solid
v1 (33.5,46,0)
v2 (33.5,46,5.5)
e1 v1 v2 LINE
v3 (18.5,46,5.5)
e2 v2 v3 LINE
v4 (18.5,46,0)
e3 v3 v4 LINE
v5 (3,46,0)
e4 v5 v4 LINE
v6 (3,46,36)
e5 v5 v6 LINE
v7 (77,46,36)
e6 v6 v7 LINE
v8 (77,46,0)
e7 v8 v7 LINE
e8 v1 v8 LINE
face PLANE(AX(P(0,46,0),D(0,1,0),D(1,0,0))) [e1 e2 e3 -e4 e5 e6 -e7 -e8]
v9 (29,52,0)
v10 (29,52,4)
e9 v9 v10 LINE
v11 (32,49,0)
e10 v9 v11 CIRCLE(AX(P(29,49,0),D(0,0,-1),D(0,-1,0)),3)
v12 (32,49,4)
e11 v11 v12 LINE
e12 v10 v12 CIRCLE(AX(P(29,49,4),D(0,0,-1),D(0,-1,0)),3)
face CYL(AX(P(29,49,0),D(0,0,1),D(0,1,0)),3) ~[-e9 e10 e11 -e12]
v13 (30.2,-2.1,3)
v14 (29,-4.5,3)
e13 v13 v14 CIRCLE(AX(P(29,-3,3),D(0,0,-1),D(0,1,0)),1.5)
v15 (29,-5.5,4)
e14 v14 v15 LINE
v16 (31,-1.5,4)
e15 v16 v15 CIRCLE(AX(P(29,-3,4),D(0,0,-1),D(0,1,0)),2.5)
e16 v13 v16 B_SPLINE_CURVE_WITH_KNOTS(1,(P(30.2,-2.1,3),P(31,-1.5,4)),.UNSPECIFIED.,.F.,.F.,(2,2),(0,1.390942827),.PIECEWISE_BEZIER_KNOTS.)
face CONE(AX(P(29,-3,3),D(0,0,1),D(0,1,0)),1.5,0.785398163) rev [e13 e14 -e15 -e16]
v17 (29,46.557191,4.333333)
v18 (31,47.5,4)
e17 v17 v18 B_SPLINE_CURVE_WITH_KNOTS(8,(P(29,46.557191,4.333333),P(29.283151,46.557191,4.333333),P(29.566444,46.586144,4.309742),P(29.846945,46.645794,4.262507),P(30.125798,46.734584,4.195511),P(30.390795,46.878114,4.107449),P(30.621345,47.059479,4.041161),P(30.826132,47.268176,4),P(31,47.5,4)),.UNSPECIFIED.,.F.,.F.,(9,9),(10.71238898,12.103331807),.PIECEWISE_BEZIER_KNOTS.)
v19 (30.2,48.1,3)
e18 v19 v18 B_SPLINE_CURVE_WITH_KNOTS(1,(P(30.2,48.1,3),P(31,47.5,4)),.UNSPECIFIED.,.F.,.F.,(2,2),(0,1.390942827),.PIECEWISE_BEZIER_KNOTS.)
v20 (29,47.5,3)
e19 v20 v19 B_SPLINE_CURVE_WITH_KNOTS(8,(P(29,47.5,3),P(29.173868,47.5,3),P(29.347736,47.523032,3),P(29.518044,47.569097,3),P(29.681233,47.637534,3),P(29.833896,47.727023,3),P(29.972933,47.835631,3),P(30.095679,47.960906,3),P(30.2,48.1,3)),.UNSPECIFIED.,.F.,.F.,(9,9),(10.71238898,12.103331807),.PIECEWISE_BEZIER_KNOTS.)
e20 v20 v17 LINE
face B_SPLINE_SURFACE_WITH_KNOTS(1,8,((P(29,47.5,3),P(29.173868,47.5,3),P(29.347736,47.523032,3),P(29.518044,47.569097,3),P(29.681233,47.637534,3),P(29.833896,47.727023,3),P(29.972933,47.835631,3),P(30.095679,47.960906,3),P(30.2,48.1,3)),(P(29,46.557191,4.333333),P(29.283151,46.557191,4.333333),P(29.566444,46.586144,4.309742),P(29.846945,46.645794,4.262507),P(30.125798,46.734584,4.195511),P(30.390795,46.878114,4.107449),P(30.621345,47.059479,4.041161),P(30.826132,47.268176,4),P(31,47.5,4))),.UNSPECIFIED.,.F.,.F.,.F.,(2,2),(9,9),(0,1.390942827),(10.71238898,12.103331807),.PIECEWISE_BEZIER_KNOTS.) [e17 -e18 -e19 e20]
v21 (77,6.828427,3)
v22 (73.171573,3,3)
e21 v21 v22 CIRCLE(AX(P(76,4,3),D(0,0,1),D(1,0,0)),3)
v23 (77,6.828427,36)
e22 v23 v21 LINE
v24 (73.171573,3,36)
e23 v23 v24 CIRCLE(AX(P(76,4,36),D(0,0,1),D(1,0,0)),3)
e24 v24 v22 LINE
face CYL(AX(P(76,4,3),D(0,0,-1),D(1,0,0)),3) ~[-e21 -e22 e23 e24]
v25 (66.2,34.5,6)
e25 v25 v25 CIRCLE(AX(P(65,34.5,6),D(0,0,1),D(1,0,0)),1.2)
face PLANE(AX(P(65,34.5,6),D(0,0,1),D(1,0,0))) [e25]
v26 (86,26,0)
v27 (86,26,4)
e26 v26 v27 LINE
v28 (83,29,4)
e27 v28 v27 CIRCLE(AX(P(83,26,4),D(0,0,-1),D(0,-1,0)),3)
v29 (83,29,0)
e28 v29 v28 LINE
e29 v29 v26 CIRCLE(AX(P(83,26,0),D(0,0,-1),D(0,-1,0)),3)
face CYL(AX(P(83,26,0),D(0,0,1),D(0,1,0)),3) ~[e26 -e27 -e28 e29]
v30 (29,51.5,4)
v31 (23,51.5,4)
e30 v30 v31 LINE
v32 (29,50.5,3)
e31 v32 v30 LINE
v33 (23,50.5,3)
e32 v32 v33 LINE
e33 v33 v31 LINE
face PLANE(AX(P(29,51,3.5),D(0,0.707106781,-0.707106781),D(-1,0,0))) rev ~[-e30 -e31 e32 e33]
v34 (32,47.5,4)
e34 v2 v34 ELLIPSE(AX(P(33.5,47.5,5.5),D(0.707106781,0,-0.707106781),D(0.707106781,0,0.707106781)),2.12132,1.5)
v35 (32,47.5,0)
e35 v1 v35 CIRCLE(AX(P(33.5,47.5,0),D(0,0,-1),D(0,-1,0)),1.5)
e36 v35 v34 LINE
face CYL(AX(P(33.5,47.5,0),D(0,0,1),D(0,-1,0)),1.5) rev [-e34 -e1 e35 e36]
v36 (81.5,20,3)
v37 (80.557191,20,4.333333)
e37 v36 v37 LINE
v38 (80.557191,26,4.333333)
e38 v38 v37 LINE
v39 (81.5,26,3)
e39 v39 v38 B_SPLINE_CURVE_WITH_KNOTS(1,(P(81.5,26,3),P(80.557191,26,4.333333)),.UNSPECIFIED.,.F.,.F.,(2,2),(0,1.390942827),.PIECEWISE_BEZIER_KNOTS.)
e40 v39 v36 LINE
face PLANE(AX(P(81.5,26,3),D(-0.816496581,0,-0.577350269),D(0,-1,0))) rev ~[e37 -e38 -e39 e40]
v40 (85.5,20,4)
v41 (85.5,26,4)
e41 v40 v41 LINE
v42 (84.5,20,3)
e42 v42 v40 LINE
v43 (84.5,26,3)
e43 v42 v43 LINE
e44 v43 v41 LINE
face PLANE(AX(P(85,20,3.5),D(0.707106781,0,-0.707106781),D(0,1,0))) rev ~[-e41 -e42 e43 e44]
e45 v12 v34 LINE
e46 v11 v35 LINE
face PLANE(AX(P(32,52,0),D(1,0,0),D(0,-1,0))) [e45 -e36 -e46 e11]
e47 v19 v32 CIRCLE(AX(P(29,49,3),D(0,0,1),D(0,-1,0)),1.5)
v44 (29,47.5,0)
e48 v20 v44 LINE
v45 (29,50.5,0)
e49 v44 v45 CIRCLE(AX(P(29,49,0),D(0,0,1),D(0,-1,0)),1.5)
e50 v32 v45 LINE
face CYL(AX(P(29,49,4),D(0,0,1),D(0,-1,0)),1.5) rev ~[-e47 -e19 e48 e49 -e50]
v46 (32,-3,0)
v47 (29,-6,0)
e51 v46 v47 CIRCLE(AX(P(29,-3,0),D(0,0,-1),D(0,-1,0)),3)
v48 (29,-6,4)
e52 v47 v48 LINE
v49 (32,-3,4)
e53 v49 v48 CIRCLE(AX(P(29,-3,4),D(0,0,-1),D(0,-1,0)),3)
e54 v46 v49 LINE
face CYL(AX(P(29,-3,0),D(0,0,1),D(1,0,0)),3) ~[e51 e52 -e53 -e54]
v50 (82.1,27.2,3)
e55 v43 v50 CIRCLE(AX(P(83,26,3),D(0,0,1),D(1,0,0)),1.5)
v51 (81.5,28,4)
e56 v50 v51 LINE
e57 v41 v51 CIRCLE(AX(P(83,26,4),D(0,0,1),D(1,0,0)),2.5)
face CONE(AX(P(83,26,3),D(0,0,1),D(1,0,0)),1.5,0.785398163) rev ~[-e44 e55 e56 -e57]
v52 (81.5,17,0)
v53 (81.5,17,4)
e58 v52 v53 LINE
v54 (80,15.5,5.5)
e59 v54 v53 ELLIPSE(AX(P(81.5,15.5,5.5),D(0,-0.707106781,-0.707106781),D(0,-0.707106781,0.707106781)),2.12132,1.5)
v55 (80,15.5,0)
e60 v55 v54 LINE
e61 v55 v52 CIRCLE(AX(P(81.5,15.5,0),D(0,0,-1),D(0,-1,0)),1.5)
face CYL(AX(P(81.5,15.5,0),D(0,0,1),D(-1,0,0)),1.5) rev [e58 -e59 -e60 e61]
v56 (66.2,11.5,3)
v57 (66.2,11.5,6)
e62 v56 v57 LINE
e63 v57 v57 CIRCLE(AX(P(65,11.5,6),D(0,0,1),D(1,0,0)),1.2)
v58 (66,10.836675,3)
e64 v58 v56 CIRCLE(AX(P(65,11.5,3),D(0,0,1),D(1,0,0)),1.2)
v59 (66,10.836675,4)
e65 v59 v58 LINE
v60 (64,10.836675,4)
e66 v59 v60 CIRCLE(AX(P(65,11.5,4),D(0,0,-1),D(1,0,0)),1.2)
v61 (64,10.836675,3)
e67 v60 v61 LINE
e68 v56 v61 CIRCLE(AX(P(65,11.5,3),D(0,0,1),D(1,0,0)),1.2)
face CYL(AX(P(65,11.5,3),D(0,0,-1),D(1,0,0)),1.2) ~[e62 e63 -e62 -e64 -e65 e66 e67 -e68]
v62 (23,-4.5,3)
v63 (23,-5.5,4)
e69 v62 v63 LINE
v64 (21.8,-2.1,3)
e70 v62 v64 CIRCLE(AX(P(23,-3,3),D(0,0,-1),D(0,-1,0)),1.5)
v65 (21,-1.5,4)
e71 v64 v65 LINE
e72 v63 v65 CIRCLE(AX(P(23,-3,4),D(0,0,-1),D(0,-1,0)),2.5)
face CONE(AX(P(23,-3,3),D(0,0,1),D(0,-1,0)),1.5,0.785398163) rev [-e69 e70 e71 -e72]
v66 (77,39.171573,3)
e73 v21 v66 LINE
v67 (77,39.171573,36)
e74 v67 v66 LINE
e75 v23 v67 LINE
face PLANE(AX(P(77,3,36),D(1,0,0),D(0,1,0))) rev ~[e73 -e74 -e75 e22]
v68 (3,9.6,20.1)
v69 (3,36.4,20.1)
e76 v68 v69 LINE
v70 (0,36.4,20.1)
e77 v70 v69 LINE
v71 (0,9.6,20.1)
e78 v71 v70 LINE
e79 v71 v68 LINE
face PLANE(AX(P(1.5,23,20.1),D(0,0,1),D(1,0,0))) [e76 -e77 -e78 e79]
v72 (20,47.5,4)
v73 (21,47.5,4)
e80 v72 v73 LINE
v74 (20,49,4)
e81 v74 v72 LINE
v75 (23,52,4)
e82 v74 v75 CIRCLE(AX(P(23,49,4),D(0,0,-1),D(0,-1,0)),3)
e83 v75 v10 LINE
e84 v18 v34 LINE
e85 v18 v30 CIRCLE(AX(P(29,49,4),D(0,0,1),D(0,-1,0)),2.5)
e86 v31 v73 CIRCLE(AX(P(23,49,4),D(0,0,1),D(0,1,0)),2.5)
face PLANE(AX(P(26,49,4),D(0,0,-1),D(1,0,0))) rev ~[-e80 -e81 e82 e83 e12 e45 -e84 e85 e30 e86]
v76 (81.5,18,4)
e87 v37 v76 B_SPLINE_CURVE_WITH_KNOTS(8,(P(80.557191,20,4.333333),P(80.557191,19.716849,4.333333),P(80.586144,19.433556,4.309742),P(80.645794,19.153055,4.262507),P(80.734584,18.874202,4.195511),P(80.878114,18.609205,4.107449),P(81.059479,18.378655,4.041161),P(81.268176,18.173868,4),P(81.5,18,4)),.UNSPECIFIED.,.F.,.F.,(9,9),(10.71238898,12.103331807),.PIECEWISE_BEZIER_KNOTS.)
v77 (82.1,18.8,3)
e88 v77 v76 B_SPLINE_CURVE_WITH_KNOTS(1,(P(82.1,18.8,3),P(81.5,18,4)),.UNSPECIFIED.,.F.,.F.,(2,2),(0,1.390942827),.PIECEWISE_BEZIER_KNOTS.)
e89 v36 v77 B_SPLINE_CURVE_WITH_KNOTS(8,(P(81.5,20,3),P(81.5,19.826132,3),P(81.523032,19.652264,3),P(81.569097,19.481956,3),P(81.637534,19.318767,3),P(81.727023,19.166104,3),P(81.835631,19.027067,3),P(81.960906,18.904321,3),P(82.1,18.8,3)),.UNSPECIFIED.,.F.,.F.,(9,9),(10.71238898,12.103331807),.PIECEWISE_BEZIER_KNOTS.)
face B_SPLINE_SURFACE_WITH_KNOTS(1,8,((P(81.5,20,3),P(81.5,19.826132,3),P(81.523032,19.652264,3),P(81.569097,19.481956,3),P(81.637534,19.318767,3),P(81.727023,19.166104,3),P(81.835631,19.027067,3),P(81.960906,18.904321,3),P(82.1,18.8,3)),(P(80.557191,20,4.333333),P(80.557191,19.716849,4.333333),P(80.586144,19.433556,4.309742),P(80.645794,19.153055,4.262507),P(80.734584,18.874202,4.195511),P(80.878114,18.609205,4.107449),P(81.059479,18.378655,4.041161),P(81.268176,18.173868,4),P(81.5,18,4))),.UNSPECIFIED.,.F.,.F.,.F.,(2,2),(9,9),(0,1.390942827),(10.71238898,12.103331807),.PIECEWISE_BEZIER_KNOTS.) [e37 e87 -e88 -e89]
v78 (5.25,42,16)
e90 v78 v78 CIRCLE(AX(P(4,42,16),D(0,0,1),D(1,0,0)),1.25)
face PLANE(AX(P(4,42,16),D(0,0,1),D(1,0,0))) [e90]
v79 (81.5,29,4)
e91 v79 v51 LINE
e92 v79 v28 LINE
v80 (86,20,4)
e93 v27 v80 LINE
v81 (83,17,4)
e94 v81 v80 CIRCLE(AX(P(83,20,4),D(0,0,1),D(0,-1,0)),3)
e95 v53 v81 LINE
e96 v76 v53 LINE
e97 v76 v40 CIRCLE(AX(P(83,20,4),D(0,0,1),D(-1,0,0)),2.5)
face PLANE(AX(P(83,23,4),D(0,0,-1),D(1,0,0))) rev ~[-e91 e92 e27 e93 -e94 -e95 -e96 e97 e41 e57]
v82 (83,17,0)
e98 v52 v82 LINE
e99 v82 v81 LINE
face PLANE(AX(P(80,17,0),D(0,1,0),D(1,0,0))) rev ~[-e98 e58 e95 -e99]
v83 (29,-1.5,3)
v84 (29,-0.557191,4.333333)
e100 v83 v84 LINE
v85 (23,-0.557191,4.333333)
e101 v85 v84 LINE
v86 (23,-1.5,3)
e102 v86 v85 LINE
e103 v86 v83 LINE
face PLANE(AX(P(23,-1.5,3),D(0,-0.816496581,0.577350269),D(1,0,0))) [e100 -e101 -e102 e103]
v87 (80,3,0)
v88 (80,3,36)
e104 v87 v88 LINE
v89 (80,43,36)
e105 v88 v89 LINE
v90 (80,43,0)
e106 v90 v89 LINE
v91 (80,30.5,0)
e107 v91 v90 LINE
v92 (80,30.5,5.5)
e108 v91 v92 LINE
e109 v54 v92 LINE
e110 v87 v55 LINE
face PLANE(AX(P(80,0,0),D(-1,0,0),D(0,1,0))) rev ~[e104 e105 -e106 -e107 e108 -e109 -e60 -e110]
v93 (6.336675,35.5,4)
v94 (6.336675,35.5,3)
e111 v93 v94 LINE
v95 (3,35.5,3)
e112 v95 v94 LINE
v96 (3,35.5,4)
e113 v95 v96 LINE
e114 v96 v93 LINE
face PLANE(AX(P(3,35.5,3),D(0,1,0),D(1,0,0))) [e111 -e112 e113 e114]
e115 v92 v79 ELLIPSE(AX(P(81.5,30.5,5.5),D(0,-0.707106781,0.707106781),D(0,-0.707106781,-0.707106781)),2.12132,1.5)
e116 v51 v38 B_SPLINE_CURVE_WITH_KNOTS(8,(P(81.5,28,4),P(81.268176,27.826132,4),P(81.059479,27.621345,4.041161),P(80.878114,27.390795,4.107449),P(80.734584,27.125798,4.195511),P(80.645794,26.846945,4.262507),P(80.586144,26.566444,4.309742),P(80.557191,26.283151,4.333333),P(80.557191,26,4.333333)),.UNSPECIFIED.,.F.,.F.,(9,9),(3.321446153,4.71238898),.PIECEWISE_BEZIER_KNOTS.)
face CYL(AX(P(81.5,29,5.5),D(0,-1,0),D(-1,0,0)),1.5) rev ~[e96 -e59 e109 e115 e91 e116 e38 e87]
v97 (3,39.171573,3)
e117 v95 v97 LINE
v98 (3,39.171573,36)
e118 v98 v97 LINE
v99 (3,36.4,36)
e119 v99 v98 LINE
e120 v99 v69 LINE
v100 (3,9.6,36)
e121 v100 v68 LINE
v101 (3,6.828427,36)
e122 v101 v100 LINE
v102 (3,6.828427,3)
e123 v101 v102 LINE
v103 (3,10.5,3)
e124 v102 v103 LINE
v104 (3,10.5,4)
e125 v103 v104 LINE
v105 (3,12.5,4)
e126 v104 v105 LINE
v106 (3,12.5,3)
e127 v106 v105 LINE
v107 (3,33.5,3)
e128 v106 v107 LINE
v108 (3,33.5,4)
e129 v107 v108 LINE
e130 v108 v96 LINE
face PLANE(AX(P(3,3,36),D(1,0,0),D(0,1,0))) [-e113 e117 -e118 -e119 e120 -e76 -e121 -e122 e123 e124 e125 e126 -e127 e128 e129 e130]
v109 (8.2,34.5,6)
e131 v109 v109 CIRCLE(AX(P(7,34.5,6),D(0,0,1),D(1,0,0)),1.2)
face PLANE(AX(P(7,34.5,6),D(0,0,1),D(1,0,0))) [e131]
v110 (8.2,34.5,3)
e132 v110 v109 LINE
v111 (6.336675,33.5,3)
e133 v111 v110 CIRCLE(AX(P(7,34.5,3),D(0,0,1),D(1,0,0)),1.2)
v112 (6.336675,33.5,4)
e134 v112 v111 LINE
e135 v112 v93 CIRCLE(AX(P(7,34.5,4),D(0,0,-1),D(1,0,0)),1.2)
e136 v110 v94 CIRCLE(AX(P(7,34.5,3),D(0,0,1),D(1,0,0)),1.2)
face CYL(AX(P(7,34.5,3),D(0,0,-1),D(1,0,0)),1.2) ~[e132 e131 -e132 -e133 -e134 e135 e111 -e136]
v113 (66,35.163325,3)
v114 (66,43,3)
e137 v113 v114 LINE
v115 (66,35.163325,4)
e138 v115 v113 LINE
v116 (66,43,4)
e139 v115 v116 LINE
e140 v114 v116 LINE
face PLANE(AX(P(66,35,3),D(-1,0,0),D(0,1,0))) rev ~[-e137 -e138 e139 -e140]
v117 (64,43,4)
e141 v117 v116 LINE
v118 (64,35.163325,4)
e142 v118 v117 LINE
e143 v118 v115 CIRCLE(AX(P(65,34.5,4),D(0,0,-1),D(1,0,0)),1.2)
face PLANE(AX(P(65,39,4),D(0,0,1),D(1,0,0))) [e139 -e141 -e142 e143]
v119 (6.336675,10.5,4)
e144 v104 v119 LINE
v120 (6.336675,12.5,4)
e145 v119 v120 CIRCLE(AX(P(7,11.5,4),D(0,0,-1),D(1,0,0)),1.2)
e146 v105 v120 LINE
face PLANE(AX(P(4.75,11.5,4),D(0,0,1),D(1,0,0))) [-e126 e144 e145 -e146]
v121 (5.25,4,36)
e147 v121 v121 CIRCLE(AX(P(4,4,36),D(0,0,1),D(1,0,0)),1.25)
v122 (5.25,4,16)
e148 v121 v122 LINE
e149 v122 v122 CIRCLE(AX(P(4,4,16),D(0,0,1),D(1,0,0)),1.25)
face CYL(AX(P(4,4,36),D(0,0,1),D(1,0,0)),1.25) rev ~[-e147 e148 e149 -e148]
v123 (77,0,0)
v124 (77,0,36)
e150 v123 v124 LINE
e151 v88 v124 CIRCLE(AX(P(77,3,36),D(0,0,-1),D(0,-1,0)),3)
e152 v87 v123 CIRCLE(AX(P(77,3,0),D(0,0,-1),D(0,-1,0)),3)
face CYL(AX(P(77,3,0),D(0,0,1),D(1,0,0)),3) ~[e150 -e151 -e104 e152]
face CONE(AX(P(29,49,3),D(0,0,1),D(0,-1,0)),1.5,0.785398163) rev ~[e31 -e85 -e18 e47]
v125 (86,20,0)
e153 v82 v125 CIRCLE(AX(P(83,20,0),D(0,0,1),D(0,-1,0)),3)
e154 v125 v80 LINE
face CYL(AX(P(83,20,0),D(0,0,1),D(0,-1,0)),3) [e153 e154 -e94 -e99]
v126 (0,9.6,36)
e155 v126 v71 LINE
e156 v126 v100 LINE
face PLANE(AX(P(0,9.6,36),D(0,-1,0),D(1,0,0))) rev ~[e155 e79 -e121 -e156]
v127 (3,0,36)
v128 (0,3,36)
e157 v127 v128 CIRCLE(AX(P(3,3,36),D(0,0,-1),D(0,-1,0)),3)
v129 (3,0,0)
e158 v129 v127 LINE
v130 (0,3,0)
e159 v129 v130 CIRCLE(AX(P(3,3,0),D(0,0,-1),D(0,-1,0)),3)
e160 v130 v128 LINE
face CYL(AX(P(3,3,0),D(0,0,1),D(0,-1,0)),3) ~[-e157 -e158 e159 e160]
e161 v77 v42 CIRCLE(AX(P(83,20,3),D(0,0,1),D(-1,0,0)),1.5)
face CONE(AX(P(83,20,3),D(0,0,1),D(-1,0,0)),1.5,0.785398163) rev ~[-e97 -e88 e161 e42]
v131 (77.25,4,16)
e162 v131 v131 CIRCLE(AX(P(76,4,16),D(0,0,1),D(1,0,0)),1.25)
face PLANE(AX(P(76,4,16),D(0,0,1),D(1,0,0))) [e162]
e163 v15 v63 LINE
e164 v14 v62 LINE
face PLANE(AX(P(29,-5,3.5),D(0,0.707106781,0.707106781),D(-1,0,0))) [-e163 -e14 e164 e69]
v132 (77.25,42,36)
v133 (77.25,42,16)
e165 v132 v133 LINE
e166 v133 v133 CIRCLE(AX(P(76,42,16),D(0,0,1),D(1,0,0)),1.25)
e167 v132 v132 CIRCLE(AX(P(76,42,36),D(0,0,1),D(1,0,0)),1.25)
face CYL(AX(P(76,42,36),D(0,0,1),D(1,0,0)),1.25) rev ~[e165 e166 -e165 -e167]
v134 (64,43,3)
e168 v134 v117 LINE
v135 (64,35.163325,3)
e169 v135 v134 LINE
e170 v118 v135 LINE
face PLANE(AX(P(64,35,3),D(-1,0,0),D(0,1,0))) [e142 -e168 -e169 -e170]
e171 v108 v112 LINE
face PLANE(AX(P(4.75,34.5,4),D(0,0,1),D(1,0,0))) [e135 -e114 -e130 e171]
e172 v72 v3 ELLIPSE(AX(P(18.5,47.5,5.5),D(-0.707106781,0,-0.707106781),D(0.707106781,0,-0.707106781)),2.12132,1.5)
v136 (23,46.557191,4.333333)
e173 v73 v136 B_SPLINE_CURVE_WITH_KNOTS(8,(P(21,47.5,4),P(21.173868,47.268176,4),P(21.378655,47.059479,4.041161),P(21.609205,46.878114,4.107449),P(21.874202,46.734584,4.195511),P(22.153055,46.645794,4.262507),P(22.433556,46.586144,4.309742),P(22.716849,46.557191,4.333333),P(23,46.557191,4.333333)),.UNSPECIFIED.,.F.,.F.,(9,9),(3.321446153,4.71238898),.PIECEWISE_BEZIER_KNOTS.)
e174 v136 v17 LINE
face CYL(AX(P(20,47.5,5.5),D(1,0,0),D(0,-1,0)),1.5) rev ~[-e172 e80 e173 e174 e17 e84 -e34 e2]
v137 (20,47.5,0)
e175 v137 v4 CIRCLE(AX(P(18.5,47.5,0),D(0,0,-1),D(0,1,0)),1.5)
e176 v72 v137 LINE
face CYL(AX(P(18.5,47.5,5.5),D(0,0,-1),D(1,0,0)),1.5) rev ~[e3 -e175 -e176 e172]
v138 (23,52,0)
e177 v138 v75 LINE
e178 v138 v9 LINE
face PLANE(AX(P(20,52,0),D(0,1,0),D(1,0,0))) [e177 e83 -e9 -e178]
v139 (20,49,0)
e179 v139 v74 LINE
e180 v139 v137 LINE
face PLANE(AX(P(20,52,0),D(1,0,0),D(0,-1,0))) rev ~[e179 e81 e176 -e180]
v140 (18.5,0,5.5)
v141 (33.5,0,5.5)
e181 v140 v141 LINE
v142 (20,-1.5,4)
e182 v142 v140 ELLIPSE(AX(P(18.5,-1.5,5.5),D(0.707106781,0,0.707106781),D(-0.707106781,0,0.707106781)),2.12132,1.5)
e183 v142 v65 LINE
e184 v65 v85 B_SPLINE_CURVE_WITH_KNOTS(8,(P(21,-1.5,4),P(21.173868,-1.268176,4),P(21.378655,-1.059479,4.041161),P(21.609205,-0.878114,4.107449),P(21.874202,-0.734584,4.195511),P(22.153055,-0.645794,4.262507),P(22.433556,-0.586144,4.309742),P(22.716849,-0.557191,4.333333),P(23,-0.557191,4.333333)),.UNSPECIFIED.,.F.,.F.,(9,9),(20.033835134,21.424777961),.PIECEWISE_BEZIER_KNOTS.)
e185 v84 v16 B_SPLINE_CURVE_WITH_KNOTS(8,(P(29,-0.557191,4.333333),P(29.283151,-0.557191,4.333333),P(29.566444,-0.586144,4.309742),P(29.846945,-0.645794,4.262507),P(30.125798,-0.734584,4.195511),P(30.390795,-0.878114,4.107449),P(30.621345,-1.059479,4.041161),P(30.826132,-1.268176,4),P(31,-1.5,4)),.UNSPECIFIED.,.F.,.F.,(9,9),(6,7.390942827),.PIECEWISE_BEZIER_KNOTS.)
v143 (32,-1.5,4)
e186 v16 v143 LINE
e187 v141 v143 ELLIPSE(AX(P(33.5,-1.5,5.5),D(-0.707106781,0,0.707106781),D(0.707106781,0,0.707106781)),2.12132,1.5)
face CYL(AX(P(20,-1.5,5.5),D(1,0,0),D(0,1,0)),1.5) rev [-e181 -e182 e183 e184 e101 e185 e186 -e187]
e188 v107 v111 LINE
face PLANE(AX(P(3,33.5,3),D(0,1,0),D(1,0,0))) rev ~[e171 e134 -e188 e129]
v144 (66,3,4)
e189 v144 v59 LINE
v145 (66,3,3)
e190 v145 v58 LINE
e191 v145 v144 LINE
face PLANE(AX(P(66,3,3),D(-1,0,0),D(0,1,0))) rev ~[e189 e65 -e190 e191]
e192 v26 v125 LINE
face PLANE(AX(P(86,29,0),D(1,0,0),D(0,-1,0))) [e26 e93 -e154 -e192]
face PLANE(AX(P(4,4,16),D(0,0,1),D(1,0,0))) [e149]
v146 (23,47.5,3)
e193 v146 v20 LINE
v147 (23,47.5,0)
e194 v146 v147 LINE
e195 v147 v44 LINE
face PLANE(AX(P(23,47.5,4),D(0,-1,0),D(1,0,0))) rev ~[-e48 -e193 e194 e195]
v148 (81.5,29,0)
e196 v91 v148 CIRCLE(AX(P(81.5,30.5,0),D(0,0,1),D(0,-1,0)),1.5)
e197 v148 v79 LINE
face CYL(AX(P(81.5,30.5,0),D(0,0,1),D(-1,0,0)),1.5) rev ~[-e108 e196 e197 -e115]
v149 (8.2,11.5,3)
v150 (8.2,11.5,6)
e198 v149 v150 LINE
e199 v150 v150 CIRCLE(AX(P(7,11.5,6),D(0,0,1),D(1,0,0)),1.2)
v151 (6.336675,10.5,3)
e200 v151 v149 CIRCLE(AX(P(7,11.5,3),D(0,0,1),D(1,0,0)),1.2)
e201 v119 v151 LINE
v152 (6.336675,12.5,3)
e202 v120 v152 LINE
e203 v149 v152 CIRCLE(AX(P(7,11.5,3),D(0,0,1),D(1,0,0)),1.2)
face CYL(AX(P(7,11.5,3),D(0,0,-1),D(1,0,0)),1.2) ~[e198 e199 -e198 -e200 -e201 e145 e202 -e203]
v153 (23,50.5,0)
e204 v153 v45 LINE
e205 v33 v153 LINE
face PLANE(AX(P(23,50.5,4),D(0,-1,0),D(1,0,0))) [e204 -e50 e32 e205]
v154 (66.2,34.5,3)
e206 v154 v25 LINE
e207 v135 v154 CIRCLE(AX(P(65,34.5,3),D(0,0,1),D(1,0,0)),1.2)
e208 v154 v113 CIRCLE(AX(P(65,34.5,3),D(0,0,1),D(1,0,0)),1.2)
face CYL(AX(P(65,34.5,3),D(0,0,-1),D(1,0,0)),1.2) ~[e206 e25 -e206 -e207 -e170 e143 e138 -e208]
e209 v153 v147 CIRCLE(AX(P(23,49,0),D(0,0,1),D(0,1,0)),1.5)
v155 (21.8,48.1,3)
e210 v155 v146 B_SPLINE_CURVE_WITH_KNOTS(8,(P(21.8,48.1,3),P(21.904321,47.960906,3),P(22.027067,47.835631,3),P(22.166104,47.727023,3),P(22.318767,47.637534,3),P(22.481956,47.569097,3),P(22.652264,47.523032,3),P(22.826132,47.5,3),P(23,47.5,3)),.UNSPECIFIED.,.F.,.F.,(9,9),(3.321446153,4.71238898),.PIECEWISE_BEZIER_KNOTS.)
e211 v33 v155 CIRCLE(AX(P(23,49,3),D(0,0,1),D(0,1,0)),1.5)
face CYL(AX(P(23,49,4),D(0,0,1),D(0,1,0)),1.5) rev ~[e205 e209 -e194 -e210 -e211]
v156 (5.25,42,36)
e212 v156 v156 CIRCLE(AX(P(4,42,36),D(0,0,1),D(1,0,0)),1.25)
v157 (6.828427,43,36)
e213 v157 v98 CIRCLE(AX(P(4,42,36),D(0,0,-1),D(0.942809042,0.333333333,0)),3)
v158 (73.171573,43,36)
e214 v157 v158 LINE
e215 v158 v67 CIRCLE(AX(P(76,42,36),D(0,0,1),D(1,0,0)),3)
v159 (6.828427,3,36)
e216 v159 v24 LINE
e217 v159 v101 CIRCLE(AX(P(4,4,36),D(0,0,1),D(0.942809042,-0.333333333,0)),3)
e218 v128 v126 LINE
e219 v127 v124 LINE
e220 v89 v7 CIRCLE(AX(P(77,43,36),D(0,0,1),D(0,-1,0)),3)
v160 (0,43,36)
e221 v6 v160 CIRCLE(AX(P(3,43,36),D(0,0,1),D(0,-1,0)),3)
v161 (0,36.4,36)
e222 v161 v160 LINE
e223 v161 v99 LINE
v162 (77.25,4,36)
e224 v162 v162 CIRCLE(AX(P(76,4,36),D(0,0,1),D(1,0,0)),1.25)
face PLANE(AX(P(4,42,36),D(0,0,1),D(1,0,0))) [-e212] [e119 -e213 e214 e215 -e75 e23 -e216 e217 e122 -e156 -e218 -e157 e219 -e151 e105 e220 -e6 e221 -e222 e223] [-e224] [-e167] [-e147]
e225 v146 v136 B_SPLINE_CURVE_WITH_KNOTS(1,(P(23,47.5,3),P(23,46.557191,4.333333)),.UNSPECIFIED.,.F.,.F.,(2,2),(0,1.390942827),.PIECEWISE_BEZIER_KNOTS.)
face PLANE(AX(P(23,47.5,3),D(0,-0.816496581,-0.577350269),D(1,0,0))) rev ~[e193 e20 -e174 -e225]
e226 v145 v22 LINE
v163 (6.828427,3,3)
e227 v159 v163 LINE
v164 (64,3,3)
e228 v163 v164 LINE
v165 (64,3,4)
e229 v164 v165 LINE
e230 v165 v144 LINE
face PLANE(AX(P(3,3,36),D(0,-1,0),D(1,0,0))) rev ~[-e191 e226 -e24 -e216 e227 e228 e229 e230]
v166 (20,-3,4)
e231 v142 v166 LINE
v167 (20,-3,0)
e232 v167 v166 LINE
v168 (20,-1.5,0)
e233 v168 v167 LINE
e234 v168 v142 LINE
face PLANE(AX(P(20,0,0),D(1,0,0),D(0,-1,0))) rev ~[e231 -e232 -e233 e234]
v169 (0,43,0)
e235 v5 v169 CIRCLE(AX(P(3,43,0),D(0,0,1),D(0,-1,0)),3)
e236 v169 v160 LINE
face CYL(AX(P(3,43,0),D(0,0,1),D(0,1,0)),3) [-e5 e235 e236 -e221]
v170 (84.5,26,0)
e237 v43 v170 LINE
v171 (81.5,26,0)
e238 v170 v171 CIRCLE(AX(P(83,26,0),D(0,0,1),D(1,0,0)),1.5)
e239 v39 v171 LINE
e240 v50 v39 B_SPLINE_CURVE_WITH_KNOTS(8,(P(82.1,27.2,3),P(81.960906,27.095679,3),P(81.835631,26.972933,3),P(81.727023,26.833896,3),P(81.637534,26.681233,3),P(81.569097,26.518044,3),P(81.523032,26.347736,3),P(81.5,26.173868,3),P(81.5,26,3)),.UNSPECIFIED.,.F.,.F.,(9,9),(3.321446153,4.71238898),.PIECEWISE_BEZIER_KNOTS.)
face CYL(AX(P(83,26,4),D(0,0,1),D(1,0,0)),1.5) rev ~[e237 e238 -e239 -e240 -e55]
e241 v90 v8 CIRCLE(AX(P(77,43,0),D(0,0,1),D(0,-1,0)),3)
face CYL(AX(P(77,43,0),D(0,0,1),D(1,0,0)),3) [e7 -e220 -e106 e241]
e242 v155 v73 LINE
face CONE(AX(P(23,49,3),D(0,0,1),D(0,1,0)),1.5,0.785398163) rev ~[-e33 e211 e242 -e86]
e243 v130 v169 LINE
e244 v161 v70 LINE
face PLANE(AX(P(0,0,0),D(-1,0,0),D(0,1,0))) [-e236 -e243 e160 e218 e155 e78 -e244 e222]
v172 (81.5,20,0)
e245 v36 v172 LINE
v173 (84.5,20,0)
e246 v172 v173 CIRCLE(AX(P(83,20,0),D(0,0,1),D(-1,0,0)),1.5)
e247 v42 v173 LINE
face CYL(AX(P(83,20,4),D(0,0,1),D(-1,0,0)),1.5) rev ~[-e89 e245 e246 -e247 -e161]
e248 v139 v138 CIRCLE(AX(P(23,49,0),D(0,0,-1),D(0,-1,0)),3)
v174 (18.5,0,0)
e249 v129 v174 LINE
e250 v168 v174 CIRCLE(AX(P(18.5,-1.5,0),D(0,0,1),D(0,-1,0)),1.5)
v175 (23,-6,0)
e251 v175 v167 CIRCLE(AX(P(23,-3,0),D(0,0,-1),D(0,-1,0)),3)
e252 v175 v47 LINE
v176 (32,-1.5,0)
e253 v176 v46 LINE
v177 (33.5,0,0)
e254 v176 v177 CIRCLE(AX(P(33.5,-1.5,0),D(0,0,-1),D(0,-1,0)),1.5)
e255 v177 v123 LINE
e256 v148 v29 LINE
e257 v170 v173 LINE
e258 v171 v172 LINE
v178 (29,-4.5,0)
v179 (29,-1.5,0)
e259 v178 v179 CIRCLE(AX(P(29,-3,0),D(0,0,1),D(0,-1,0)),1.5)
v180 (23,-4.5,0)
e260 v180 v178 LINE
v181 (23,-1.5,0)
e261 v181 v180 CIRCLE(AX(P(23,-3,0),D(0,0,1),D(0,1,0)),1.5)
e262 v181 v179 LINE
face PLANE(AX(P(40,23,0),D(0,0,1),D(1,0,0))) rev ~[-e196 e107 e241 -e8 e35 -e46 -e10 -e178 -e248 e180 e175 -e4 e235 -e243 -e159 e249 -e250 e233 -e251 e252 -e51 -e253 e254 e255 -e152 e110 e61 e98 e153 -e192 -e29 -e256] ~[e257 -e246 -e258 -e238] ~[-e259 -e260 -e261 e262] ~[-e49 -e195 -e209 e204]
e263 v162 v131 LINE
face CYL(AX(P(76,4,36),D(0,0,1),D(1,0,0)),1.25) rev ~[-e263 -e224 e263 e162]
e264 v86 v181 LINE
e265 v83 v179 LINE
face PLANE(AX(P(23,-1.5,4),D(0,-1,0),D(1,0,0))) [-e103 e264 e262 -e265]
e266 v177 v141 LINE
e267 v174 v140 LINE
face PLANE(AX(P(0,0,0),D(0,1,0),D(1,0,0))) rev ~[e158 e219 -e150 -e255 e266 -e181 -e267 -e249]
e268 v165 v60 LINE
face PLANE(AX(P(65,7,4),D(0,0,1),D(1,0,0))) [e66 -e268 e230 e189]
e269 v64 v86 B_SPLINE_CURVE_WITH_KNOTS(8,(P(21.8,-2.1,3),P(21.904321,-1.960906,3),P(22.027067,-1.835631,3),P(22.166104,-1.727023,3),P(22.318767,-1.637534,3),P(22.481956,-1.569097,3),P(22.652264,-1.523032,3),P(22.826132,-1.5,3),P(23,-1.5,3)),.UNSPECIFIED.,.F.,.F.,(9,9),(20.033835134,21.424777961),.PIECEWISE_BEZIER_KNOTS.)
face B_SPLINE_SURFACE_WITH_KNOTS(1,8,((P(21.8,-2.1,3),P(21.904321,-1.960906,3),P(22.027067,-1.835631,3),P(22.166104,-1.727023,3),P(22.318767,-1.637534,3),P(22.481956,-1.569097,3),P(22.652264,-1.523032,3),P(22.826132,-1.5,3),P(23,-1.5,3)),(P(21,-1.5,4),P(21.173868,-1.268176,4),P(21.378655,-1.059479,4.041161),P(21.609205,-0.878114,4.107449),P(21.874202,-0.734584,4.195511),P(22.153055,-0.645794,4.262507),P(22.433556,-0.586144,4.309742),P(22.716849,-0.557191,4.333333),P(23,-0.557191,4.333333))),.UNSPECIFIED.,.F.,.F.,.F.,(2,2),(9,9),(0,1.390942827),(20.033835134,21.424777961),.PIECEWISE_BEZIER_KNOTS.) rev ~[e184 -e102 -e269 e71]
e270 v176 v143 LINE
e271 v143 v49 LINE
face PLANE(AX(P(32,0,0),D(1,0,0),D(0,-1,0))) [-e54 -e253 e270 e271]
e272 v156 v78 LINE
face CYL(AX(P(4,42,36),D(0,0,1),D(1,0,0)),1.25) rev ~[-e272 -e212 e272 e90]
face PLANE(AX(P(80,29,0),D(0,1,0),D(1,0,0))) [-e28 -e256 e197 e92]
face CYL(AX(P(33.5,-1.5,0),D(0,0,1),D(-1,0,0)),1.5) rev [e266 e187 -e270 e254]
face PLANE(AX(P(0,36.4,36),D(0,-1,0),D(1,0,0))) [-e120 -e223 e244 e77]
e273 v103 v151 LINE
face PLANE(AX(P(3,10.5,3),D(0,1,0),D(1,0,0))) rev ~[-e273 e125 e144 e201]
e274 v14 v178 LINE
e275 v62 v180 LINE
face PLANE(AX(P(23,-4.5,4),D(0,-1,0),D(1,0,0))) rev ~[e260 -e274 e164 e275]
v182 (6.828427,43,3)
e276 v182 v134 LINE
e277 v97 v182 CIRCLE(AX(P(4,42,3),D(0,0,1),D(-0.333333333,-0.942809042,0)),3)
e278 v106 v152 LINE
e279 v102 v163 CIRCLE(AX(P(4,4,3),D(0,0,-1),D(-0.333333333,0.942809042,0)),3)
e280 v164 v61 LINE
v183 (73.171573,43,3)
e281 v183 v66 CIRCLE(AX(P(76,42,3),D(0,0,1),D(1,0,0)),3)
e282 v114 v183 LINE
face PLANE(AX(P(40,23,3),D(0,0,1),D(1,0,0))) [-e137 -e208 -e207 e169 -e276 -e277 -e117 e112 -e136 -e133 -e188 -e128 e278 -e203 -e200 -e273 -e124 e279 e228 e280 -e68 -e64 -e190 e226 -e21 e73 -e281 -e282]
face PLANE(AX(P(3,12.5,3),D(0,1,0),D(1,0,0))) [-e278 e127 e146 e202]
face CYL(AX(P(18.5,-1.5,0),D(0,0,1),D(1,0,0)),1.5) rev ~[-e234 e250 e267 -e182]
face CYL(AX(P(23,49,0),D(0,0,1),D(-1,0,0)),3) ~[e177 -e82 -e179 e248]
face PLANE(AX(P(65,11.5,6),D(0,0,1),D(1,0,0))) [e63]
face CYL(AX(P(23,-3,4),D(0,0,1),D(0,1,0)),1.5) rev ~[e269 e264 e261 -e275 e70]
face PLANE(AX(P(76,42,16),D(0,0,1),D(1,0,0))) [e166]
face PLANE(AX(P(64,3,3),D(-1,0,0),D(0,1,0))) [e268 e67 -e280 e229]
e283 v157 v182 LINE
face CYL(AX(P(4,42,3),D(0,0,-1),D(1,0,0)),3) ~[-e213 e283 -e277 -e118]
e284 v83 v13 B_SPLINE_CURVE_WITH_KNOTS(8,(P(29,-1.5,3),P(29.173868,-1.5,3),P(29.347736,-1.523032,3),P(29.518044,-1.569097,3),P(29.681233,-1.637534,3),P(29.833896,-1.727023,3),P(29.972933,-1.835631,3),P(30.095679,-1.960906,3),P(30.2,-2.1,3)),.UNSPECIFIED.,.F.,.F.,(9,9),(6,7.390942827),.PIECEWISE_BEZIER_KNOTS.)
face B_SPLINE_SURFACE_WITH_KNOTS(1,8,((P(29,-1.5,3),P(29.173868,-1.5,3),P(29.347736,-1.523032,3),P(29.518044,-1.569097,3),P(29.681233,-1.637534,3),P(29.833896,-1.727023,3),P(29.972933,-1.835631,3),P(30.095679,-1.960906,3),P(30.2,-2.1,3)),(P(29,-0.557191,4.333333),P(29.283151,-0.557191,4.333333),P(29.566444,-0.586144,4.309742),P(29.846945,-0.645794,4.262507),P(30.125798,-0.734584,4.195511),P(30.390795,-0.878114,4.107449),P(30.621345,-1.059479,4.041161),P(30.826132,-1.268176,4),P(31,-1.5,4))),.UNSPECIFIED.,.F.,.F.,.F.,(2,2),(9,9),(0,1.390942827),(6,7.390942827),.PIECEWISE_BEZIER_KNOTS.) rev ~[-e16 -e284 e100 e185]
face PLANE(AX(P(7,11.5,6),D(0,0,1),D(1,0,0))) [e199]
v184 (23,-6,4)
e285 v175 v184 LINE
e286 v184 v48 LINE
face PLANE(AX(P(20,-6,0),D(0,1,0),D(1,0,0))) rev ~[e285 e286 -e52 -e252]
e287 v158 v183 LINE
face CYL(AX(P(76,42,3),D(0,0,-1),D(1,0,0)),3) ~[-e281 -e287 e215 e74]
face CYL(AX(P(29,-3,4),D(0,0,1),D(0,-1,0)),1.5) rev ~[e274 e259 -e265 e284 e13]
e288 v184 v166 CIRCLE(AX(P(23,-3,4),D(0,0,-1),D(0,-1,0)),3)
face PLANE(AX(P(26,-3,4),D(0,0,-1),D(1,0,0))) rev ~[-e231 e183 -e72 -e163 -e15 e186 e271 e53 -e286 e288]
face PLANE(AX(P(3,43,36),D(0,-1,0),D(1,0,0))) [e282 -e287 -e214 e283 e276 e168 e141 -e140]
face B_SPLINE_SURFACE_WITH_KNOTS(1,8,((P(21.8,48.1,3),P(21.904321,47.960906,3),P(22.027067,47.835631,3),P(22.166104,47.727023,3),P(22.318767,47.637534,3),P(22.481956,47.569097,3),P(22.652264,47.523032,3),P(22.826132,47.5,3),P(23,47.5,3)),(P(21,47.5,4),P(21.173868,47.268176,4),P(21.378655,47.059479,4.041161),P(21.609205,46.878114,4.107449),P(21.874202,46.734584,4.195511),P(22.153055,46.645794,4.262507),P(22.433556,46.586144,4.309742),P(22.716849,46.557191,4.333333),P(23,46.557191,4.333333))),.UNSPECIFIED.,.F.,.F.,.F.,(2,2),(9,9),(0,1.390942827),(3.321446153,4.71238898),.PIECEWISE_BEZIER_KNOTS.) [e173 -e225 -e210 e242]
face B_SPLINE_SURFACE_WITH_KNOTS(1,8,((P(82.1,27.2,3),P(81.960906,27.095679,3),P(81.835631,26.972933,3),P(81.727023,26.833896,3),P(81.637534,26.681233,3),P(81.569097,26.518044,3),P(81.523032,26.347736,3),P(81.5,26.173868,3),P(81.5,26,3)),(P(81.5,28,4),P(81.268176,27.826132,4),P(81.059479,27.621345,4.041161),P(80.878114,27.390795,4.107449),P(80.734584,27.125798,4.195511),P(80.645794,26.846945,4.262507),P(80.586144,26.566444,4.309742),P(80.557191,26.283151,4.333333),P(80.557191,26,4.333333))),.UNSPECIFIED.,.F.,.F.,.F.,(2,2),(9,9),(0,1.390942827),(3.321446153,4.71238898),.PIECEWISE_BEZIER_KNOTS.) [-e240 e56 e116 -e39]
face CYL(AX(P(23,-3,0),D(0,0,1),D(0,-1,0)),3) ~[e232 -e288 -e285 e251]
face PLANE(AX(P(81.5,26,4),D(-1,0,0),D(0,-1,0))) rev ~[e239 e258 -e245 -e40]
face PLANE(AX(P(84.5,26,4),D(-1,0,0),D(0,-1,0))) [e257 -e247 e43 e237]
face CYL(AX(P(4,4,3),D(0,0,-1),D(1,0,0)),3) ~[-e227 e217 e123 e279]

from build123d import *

# Parameters (mm, degrees)
SKETCH_W        = 80
SKETCH_H        = 46
PAD_DEPTH       = 36
SKETCH001_W     = 74
SKETCH001_H     = 40
POCKET_DEPTH    = 33
SKETCH002_W     = 3
SKETCH002_H     = 26.8
POCKET001_DEPTH = 15.9
SKETCH003_R     = 3
PAD001_DEPTH    = 33
SKETCH006_R     = 1.25
POCKET002_DEPTH = 20
SKETCH007_R     = 1.2
PAD002_DEPTH    = 3
SKETCH008_W     = 3.5
SKETCH008_H     = 2
SKETCH008_W_2   = 2
SKETCH008_H_2   = 8
PAD003_DEPTH    = 1
FILLET_R        = 3
FILLET001_R     = 3
FILLET002_R     = 3
SKETCH009_W     = 12
SKETCH009_H     = 6
SKETCH009_W_2   = 6
SKETCH009_H_2   = 12
PAD004_DEPTH    = 4
FILLET003_R     = 1.5
FILLET004_R     = 3
FILLET005_R     = 1.5
FILLET006_R     = 1.5
FILLET007_R     = 1.5
FILLET008_R     = 3
FILLET009_R     = 3
FILLET010_R     = 1.5
FILLET011_R     = 1.5
POCKET003_DEPTH = 4
CHAMFER_SIZE    = 1
CHAMFER001_SIZE = 1
CHAMFER002_SIZE = 1


with BuildPart() as part:
    # Sketch → Pad (new body)
    with BuildSketch(Plane.XY):
        with Locations((40, 23)):
            Rectangle(SKETCH_W, SKETCH_H)
    extrude(amount=PAD_DEPTH)

    # Sketch001 → Pocket (cut)
    with BuildSketch(Plane.XY.offset(36)):
        with Locations((40, 23)):
            Rectangle(SKETCH001_W, SKETCH001_H)
    extrude(amount=-POCKET_DEPTH, mode=Mode.SUBTRACT)

    # Sketch002 → Pocket001 (cut)
    with BuildSketch(Plane.XY.offset(36)):
        with Locations((1.5, 23)):
            Rectangle(SKETCH002_W, SKETCH002_H)
    extrude(amount=-POCKET001_DEPTH, mode=Mode.SUBTRACT)

    # Sketch003 → Pad001 (new body)
    with BuildSketch(Plane.XY.offset(3)):
        with Locations((4, 42)):
            Circle(SKETCH003_R)
        with Locations((4, 4)):
            Circle(SKETCH003_R)
        with Locations((76, 4)):
            Circle(SKETCH003_R)
        with Locations((76, 42)):
            Circle(SKETCH003_R)
    extrude(amount=PAD001_DEPTH)

    # Sketch006 → Pocket002 (cut)
    with BuildSketch(Plane.XY.offset(36)):
        with Locations((4, 42)):
            Circle(SKETCH006_R)
        with Locations((4, 4)):
            Circle(SKETCH006_R)
        with Locations((76, 4)):
            Circle(SKETCH006_R)
        with Locations((76, 42)):
            Circle(SKETCH006_R)
    extrude(amount=-POCKET002_DEPTH, mode=Mode.SUBTRACT)

    # Sketch007 → Pad002 (new body)
    with BuildSketch(Plane.XY.offset(3)):
        with Locations((7, 11.5)):
            Circle(SKETCH007_R)
        with Locations((7, 34.5)):
            Circle(SKETCH007_R)
        with Locations((65, 34.5)):
            Circle(SKETCH007_R)
        with Locations((65, 11.5)):
            Circle(SKETCH007_R)
    extrude(amount=PAD002_DEPTH)

    # Sketch008 → Pad003 (new body)
    with BuildSketch(Plane.XY.offset(3)):
        with Locations((4.75, 34.5)):
            Rectangle(SKETCH008_W, SKETCH008_H)
        with Locations((4.75, 11.5)):
            Rectangle(SKETCH008_W, SKETCH008_H)
        with Locations((65, 39)):
            Rectangle(SKETCH008_W_2, SKETCH008_H_2)
        with Locations((65, 7)):
            Rectangle(SKETCH008_W_2, SKETCH008_H_2)
    extrude(amount=PAD003_DEPTH)

    # Fillet
    fillet_edges = [part.edges().sort_by_distance(p)[0] for p in [
        (80, 0, 18),
    ]]
    fillet(fillet_edges, radius=FILLET_R)

    # Fillet001
    fillet001_edges = [part.edges().sort_by_distance(p)[0] for p in [
        (80, 46, 18),
    ]]
    fillet(fillet001_edges, radius=FILLET001_R)

    # Fillet002
    fillet002_edges = [part.edges().sort_by_distance(p)[0] for p in [
        (0, 0, 18),
        (0, 46, 18),
    ]]
    fillet(fillet002_edges, radius=FILLET002_R)

    # Sketch009 → Pad004 (new body)
    with BuildSketch(Plane(origin=(0, 0, 0), x_dir=(1, 0, 0), z_dir=(0, 0, -1))):
        with Locations((26, 3)):
            Rectangle(SKETCH009_W, SKETCH009_H)
        with Locations((83, -23)):
            Rectangle(SKETCH009_W_2, SKETCH009_H_2)
        with Locations((26, -49)):
            Rectangle(SKETCH009_W, SKETCH009_H)
    extrude(amount=-PAD004_DEPTH)

    # Fillet003
    fillet003_edges = [part.edges().sort_by_distance(p)[0] for p in [
        (26, 46, 4),
        (32, 46, 2),
    ]]
    fillet(fillet003_edges, radius=FILLET003_R)

    # Fillet004
    fillet004_edges = [part.edges().sort_by_distance(p)[0] for p in [
        (32, 52, 2),
        (20, 52, 2),
    ]]
    fillet(fillet004_edges, radius=FILLET004_R)

    # Fillet005
    fillet005_edges = [part.edges().sort_by_distance(p)[0] for p in [
        (20, 46, 2),
    ]]
    fillet(fillet005_edges, radius=FILLET005_R)

    # Fillet006
    fillet006_edges = [part.edges().sort_by_distance(p)[0] for p in [
        (80, 23, 4),
        (80, 29, 2),
    ]]
    fillet(fillet006_edges, radius=FILLET006_R)

    # Fillet007
    fillet007_edges = [part.edges().sort_by_distance(p)[0] for p in [
        (80, 17, 2),
    ]]
    fillet(fillet007_edges, radius=FILLET007_R)

    # Fillet008
    fillet008_edges = [part.edges().sort_by_distance(p)[0] for p in [
        (86, 17, 2),
        (86, 29, 2),
    ]]
    fillet(fillet008_edges, radius=FILLET008_R)

    # Fillet009
    fillet009_edges = [part.edges().sort_by_distance(p)[0] for p in [
        (32, -6, 2),
        (20, -6, 2),
    ]]
    fillet(fillet009_edges, radius=FILLET009_R)

    # Fillet010
    fillet010_edges = [part.edges().sort_by_distance(p)[0] for p in [
        (26, 0, 4),
        (32, 0, 2),
    ]]
    fillet(fillet010_edges, radius=FILLET010_R)

    # Fillet011
    fillet011_edges = [part.edges().sort_by_distance(p)[0] for p in [
        (20, 0, 2),
    ]]
    fillet(fillet011_edges, radius=FILLET011_R)

    # Sketch010 → Pocket003 (cut)
    with BuildSketch(Plane.XY.offset(4)):
        with BuildLine():
            ThreePointArc((23, 50.5), (21.5, 49), (23, 47.5))
            Line((23, 47.5), (29, 47.5))
            ThreePointArc((29, 47.5), (30.5, 49), (29, 50.5))
            Line((23, 50.5), (29, 50.5))
        make_face()
        with BuildLine():
            ThreePointArc((23, -1.5), (21.5, -3), (23, -4.5))
            Line((23, -4.5), (29, -4.5))
            ThreePointArc((29, -4.5), (30.5, -3), (29, -1.5))
            Line((23, -1.5), (29, -1.5))
        make_face()
        with BuildLine():
            ThreePointArc((84.5, 26), (83, 27.5), (81.5, 26))
            Line((81.5, 26), (81.5, 20))
            ThreePointArc((81.5, 20), (83, 18.5), (84.5, 20))
            Line((84.5, 26), (84.5, 20))
        make_face()
    extrude(amount=-POCKET003_DEPTH, mode=Mode.SUBTRACT)

    # Chamfer
    chamfer_edges = [part.edges().sort_by_distance(p)[0] for p in [
        (21.5, 49, 4),
        (29, 47.5, 2),
        (30.5, 49, 4),
        (26, 47.5, 4),
    ]]
    chamfer(chamfer_edges, length=CHAMFER_SIZE)

    # Chamfer001
    chamfer001_edges = [part.edges().sort_by_distance(p)[0] for p in [
        (26, -1.5, 4),
        (26, -4.5, 4),
        (21.5, -3, 4),
        (29, -4.5, 2),
    ]]
    chamfer(chamfer001_edges, length=CHAMFER001_SIZE)

    # Chamfer002
    chamfer002_edges = [part.edges().sort_by_distance(p)[0] for p in [
        (83, 27.5, 4),
        (84.5, 23, 4),
        (81.5, 23, 4),
        (83, 18.5, 4),
    ]]
    chamfer(chamfer002_edges, length=CHAMFER002_SIZE)


solid = part.part
